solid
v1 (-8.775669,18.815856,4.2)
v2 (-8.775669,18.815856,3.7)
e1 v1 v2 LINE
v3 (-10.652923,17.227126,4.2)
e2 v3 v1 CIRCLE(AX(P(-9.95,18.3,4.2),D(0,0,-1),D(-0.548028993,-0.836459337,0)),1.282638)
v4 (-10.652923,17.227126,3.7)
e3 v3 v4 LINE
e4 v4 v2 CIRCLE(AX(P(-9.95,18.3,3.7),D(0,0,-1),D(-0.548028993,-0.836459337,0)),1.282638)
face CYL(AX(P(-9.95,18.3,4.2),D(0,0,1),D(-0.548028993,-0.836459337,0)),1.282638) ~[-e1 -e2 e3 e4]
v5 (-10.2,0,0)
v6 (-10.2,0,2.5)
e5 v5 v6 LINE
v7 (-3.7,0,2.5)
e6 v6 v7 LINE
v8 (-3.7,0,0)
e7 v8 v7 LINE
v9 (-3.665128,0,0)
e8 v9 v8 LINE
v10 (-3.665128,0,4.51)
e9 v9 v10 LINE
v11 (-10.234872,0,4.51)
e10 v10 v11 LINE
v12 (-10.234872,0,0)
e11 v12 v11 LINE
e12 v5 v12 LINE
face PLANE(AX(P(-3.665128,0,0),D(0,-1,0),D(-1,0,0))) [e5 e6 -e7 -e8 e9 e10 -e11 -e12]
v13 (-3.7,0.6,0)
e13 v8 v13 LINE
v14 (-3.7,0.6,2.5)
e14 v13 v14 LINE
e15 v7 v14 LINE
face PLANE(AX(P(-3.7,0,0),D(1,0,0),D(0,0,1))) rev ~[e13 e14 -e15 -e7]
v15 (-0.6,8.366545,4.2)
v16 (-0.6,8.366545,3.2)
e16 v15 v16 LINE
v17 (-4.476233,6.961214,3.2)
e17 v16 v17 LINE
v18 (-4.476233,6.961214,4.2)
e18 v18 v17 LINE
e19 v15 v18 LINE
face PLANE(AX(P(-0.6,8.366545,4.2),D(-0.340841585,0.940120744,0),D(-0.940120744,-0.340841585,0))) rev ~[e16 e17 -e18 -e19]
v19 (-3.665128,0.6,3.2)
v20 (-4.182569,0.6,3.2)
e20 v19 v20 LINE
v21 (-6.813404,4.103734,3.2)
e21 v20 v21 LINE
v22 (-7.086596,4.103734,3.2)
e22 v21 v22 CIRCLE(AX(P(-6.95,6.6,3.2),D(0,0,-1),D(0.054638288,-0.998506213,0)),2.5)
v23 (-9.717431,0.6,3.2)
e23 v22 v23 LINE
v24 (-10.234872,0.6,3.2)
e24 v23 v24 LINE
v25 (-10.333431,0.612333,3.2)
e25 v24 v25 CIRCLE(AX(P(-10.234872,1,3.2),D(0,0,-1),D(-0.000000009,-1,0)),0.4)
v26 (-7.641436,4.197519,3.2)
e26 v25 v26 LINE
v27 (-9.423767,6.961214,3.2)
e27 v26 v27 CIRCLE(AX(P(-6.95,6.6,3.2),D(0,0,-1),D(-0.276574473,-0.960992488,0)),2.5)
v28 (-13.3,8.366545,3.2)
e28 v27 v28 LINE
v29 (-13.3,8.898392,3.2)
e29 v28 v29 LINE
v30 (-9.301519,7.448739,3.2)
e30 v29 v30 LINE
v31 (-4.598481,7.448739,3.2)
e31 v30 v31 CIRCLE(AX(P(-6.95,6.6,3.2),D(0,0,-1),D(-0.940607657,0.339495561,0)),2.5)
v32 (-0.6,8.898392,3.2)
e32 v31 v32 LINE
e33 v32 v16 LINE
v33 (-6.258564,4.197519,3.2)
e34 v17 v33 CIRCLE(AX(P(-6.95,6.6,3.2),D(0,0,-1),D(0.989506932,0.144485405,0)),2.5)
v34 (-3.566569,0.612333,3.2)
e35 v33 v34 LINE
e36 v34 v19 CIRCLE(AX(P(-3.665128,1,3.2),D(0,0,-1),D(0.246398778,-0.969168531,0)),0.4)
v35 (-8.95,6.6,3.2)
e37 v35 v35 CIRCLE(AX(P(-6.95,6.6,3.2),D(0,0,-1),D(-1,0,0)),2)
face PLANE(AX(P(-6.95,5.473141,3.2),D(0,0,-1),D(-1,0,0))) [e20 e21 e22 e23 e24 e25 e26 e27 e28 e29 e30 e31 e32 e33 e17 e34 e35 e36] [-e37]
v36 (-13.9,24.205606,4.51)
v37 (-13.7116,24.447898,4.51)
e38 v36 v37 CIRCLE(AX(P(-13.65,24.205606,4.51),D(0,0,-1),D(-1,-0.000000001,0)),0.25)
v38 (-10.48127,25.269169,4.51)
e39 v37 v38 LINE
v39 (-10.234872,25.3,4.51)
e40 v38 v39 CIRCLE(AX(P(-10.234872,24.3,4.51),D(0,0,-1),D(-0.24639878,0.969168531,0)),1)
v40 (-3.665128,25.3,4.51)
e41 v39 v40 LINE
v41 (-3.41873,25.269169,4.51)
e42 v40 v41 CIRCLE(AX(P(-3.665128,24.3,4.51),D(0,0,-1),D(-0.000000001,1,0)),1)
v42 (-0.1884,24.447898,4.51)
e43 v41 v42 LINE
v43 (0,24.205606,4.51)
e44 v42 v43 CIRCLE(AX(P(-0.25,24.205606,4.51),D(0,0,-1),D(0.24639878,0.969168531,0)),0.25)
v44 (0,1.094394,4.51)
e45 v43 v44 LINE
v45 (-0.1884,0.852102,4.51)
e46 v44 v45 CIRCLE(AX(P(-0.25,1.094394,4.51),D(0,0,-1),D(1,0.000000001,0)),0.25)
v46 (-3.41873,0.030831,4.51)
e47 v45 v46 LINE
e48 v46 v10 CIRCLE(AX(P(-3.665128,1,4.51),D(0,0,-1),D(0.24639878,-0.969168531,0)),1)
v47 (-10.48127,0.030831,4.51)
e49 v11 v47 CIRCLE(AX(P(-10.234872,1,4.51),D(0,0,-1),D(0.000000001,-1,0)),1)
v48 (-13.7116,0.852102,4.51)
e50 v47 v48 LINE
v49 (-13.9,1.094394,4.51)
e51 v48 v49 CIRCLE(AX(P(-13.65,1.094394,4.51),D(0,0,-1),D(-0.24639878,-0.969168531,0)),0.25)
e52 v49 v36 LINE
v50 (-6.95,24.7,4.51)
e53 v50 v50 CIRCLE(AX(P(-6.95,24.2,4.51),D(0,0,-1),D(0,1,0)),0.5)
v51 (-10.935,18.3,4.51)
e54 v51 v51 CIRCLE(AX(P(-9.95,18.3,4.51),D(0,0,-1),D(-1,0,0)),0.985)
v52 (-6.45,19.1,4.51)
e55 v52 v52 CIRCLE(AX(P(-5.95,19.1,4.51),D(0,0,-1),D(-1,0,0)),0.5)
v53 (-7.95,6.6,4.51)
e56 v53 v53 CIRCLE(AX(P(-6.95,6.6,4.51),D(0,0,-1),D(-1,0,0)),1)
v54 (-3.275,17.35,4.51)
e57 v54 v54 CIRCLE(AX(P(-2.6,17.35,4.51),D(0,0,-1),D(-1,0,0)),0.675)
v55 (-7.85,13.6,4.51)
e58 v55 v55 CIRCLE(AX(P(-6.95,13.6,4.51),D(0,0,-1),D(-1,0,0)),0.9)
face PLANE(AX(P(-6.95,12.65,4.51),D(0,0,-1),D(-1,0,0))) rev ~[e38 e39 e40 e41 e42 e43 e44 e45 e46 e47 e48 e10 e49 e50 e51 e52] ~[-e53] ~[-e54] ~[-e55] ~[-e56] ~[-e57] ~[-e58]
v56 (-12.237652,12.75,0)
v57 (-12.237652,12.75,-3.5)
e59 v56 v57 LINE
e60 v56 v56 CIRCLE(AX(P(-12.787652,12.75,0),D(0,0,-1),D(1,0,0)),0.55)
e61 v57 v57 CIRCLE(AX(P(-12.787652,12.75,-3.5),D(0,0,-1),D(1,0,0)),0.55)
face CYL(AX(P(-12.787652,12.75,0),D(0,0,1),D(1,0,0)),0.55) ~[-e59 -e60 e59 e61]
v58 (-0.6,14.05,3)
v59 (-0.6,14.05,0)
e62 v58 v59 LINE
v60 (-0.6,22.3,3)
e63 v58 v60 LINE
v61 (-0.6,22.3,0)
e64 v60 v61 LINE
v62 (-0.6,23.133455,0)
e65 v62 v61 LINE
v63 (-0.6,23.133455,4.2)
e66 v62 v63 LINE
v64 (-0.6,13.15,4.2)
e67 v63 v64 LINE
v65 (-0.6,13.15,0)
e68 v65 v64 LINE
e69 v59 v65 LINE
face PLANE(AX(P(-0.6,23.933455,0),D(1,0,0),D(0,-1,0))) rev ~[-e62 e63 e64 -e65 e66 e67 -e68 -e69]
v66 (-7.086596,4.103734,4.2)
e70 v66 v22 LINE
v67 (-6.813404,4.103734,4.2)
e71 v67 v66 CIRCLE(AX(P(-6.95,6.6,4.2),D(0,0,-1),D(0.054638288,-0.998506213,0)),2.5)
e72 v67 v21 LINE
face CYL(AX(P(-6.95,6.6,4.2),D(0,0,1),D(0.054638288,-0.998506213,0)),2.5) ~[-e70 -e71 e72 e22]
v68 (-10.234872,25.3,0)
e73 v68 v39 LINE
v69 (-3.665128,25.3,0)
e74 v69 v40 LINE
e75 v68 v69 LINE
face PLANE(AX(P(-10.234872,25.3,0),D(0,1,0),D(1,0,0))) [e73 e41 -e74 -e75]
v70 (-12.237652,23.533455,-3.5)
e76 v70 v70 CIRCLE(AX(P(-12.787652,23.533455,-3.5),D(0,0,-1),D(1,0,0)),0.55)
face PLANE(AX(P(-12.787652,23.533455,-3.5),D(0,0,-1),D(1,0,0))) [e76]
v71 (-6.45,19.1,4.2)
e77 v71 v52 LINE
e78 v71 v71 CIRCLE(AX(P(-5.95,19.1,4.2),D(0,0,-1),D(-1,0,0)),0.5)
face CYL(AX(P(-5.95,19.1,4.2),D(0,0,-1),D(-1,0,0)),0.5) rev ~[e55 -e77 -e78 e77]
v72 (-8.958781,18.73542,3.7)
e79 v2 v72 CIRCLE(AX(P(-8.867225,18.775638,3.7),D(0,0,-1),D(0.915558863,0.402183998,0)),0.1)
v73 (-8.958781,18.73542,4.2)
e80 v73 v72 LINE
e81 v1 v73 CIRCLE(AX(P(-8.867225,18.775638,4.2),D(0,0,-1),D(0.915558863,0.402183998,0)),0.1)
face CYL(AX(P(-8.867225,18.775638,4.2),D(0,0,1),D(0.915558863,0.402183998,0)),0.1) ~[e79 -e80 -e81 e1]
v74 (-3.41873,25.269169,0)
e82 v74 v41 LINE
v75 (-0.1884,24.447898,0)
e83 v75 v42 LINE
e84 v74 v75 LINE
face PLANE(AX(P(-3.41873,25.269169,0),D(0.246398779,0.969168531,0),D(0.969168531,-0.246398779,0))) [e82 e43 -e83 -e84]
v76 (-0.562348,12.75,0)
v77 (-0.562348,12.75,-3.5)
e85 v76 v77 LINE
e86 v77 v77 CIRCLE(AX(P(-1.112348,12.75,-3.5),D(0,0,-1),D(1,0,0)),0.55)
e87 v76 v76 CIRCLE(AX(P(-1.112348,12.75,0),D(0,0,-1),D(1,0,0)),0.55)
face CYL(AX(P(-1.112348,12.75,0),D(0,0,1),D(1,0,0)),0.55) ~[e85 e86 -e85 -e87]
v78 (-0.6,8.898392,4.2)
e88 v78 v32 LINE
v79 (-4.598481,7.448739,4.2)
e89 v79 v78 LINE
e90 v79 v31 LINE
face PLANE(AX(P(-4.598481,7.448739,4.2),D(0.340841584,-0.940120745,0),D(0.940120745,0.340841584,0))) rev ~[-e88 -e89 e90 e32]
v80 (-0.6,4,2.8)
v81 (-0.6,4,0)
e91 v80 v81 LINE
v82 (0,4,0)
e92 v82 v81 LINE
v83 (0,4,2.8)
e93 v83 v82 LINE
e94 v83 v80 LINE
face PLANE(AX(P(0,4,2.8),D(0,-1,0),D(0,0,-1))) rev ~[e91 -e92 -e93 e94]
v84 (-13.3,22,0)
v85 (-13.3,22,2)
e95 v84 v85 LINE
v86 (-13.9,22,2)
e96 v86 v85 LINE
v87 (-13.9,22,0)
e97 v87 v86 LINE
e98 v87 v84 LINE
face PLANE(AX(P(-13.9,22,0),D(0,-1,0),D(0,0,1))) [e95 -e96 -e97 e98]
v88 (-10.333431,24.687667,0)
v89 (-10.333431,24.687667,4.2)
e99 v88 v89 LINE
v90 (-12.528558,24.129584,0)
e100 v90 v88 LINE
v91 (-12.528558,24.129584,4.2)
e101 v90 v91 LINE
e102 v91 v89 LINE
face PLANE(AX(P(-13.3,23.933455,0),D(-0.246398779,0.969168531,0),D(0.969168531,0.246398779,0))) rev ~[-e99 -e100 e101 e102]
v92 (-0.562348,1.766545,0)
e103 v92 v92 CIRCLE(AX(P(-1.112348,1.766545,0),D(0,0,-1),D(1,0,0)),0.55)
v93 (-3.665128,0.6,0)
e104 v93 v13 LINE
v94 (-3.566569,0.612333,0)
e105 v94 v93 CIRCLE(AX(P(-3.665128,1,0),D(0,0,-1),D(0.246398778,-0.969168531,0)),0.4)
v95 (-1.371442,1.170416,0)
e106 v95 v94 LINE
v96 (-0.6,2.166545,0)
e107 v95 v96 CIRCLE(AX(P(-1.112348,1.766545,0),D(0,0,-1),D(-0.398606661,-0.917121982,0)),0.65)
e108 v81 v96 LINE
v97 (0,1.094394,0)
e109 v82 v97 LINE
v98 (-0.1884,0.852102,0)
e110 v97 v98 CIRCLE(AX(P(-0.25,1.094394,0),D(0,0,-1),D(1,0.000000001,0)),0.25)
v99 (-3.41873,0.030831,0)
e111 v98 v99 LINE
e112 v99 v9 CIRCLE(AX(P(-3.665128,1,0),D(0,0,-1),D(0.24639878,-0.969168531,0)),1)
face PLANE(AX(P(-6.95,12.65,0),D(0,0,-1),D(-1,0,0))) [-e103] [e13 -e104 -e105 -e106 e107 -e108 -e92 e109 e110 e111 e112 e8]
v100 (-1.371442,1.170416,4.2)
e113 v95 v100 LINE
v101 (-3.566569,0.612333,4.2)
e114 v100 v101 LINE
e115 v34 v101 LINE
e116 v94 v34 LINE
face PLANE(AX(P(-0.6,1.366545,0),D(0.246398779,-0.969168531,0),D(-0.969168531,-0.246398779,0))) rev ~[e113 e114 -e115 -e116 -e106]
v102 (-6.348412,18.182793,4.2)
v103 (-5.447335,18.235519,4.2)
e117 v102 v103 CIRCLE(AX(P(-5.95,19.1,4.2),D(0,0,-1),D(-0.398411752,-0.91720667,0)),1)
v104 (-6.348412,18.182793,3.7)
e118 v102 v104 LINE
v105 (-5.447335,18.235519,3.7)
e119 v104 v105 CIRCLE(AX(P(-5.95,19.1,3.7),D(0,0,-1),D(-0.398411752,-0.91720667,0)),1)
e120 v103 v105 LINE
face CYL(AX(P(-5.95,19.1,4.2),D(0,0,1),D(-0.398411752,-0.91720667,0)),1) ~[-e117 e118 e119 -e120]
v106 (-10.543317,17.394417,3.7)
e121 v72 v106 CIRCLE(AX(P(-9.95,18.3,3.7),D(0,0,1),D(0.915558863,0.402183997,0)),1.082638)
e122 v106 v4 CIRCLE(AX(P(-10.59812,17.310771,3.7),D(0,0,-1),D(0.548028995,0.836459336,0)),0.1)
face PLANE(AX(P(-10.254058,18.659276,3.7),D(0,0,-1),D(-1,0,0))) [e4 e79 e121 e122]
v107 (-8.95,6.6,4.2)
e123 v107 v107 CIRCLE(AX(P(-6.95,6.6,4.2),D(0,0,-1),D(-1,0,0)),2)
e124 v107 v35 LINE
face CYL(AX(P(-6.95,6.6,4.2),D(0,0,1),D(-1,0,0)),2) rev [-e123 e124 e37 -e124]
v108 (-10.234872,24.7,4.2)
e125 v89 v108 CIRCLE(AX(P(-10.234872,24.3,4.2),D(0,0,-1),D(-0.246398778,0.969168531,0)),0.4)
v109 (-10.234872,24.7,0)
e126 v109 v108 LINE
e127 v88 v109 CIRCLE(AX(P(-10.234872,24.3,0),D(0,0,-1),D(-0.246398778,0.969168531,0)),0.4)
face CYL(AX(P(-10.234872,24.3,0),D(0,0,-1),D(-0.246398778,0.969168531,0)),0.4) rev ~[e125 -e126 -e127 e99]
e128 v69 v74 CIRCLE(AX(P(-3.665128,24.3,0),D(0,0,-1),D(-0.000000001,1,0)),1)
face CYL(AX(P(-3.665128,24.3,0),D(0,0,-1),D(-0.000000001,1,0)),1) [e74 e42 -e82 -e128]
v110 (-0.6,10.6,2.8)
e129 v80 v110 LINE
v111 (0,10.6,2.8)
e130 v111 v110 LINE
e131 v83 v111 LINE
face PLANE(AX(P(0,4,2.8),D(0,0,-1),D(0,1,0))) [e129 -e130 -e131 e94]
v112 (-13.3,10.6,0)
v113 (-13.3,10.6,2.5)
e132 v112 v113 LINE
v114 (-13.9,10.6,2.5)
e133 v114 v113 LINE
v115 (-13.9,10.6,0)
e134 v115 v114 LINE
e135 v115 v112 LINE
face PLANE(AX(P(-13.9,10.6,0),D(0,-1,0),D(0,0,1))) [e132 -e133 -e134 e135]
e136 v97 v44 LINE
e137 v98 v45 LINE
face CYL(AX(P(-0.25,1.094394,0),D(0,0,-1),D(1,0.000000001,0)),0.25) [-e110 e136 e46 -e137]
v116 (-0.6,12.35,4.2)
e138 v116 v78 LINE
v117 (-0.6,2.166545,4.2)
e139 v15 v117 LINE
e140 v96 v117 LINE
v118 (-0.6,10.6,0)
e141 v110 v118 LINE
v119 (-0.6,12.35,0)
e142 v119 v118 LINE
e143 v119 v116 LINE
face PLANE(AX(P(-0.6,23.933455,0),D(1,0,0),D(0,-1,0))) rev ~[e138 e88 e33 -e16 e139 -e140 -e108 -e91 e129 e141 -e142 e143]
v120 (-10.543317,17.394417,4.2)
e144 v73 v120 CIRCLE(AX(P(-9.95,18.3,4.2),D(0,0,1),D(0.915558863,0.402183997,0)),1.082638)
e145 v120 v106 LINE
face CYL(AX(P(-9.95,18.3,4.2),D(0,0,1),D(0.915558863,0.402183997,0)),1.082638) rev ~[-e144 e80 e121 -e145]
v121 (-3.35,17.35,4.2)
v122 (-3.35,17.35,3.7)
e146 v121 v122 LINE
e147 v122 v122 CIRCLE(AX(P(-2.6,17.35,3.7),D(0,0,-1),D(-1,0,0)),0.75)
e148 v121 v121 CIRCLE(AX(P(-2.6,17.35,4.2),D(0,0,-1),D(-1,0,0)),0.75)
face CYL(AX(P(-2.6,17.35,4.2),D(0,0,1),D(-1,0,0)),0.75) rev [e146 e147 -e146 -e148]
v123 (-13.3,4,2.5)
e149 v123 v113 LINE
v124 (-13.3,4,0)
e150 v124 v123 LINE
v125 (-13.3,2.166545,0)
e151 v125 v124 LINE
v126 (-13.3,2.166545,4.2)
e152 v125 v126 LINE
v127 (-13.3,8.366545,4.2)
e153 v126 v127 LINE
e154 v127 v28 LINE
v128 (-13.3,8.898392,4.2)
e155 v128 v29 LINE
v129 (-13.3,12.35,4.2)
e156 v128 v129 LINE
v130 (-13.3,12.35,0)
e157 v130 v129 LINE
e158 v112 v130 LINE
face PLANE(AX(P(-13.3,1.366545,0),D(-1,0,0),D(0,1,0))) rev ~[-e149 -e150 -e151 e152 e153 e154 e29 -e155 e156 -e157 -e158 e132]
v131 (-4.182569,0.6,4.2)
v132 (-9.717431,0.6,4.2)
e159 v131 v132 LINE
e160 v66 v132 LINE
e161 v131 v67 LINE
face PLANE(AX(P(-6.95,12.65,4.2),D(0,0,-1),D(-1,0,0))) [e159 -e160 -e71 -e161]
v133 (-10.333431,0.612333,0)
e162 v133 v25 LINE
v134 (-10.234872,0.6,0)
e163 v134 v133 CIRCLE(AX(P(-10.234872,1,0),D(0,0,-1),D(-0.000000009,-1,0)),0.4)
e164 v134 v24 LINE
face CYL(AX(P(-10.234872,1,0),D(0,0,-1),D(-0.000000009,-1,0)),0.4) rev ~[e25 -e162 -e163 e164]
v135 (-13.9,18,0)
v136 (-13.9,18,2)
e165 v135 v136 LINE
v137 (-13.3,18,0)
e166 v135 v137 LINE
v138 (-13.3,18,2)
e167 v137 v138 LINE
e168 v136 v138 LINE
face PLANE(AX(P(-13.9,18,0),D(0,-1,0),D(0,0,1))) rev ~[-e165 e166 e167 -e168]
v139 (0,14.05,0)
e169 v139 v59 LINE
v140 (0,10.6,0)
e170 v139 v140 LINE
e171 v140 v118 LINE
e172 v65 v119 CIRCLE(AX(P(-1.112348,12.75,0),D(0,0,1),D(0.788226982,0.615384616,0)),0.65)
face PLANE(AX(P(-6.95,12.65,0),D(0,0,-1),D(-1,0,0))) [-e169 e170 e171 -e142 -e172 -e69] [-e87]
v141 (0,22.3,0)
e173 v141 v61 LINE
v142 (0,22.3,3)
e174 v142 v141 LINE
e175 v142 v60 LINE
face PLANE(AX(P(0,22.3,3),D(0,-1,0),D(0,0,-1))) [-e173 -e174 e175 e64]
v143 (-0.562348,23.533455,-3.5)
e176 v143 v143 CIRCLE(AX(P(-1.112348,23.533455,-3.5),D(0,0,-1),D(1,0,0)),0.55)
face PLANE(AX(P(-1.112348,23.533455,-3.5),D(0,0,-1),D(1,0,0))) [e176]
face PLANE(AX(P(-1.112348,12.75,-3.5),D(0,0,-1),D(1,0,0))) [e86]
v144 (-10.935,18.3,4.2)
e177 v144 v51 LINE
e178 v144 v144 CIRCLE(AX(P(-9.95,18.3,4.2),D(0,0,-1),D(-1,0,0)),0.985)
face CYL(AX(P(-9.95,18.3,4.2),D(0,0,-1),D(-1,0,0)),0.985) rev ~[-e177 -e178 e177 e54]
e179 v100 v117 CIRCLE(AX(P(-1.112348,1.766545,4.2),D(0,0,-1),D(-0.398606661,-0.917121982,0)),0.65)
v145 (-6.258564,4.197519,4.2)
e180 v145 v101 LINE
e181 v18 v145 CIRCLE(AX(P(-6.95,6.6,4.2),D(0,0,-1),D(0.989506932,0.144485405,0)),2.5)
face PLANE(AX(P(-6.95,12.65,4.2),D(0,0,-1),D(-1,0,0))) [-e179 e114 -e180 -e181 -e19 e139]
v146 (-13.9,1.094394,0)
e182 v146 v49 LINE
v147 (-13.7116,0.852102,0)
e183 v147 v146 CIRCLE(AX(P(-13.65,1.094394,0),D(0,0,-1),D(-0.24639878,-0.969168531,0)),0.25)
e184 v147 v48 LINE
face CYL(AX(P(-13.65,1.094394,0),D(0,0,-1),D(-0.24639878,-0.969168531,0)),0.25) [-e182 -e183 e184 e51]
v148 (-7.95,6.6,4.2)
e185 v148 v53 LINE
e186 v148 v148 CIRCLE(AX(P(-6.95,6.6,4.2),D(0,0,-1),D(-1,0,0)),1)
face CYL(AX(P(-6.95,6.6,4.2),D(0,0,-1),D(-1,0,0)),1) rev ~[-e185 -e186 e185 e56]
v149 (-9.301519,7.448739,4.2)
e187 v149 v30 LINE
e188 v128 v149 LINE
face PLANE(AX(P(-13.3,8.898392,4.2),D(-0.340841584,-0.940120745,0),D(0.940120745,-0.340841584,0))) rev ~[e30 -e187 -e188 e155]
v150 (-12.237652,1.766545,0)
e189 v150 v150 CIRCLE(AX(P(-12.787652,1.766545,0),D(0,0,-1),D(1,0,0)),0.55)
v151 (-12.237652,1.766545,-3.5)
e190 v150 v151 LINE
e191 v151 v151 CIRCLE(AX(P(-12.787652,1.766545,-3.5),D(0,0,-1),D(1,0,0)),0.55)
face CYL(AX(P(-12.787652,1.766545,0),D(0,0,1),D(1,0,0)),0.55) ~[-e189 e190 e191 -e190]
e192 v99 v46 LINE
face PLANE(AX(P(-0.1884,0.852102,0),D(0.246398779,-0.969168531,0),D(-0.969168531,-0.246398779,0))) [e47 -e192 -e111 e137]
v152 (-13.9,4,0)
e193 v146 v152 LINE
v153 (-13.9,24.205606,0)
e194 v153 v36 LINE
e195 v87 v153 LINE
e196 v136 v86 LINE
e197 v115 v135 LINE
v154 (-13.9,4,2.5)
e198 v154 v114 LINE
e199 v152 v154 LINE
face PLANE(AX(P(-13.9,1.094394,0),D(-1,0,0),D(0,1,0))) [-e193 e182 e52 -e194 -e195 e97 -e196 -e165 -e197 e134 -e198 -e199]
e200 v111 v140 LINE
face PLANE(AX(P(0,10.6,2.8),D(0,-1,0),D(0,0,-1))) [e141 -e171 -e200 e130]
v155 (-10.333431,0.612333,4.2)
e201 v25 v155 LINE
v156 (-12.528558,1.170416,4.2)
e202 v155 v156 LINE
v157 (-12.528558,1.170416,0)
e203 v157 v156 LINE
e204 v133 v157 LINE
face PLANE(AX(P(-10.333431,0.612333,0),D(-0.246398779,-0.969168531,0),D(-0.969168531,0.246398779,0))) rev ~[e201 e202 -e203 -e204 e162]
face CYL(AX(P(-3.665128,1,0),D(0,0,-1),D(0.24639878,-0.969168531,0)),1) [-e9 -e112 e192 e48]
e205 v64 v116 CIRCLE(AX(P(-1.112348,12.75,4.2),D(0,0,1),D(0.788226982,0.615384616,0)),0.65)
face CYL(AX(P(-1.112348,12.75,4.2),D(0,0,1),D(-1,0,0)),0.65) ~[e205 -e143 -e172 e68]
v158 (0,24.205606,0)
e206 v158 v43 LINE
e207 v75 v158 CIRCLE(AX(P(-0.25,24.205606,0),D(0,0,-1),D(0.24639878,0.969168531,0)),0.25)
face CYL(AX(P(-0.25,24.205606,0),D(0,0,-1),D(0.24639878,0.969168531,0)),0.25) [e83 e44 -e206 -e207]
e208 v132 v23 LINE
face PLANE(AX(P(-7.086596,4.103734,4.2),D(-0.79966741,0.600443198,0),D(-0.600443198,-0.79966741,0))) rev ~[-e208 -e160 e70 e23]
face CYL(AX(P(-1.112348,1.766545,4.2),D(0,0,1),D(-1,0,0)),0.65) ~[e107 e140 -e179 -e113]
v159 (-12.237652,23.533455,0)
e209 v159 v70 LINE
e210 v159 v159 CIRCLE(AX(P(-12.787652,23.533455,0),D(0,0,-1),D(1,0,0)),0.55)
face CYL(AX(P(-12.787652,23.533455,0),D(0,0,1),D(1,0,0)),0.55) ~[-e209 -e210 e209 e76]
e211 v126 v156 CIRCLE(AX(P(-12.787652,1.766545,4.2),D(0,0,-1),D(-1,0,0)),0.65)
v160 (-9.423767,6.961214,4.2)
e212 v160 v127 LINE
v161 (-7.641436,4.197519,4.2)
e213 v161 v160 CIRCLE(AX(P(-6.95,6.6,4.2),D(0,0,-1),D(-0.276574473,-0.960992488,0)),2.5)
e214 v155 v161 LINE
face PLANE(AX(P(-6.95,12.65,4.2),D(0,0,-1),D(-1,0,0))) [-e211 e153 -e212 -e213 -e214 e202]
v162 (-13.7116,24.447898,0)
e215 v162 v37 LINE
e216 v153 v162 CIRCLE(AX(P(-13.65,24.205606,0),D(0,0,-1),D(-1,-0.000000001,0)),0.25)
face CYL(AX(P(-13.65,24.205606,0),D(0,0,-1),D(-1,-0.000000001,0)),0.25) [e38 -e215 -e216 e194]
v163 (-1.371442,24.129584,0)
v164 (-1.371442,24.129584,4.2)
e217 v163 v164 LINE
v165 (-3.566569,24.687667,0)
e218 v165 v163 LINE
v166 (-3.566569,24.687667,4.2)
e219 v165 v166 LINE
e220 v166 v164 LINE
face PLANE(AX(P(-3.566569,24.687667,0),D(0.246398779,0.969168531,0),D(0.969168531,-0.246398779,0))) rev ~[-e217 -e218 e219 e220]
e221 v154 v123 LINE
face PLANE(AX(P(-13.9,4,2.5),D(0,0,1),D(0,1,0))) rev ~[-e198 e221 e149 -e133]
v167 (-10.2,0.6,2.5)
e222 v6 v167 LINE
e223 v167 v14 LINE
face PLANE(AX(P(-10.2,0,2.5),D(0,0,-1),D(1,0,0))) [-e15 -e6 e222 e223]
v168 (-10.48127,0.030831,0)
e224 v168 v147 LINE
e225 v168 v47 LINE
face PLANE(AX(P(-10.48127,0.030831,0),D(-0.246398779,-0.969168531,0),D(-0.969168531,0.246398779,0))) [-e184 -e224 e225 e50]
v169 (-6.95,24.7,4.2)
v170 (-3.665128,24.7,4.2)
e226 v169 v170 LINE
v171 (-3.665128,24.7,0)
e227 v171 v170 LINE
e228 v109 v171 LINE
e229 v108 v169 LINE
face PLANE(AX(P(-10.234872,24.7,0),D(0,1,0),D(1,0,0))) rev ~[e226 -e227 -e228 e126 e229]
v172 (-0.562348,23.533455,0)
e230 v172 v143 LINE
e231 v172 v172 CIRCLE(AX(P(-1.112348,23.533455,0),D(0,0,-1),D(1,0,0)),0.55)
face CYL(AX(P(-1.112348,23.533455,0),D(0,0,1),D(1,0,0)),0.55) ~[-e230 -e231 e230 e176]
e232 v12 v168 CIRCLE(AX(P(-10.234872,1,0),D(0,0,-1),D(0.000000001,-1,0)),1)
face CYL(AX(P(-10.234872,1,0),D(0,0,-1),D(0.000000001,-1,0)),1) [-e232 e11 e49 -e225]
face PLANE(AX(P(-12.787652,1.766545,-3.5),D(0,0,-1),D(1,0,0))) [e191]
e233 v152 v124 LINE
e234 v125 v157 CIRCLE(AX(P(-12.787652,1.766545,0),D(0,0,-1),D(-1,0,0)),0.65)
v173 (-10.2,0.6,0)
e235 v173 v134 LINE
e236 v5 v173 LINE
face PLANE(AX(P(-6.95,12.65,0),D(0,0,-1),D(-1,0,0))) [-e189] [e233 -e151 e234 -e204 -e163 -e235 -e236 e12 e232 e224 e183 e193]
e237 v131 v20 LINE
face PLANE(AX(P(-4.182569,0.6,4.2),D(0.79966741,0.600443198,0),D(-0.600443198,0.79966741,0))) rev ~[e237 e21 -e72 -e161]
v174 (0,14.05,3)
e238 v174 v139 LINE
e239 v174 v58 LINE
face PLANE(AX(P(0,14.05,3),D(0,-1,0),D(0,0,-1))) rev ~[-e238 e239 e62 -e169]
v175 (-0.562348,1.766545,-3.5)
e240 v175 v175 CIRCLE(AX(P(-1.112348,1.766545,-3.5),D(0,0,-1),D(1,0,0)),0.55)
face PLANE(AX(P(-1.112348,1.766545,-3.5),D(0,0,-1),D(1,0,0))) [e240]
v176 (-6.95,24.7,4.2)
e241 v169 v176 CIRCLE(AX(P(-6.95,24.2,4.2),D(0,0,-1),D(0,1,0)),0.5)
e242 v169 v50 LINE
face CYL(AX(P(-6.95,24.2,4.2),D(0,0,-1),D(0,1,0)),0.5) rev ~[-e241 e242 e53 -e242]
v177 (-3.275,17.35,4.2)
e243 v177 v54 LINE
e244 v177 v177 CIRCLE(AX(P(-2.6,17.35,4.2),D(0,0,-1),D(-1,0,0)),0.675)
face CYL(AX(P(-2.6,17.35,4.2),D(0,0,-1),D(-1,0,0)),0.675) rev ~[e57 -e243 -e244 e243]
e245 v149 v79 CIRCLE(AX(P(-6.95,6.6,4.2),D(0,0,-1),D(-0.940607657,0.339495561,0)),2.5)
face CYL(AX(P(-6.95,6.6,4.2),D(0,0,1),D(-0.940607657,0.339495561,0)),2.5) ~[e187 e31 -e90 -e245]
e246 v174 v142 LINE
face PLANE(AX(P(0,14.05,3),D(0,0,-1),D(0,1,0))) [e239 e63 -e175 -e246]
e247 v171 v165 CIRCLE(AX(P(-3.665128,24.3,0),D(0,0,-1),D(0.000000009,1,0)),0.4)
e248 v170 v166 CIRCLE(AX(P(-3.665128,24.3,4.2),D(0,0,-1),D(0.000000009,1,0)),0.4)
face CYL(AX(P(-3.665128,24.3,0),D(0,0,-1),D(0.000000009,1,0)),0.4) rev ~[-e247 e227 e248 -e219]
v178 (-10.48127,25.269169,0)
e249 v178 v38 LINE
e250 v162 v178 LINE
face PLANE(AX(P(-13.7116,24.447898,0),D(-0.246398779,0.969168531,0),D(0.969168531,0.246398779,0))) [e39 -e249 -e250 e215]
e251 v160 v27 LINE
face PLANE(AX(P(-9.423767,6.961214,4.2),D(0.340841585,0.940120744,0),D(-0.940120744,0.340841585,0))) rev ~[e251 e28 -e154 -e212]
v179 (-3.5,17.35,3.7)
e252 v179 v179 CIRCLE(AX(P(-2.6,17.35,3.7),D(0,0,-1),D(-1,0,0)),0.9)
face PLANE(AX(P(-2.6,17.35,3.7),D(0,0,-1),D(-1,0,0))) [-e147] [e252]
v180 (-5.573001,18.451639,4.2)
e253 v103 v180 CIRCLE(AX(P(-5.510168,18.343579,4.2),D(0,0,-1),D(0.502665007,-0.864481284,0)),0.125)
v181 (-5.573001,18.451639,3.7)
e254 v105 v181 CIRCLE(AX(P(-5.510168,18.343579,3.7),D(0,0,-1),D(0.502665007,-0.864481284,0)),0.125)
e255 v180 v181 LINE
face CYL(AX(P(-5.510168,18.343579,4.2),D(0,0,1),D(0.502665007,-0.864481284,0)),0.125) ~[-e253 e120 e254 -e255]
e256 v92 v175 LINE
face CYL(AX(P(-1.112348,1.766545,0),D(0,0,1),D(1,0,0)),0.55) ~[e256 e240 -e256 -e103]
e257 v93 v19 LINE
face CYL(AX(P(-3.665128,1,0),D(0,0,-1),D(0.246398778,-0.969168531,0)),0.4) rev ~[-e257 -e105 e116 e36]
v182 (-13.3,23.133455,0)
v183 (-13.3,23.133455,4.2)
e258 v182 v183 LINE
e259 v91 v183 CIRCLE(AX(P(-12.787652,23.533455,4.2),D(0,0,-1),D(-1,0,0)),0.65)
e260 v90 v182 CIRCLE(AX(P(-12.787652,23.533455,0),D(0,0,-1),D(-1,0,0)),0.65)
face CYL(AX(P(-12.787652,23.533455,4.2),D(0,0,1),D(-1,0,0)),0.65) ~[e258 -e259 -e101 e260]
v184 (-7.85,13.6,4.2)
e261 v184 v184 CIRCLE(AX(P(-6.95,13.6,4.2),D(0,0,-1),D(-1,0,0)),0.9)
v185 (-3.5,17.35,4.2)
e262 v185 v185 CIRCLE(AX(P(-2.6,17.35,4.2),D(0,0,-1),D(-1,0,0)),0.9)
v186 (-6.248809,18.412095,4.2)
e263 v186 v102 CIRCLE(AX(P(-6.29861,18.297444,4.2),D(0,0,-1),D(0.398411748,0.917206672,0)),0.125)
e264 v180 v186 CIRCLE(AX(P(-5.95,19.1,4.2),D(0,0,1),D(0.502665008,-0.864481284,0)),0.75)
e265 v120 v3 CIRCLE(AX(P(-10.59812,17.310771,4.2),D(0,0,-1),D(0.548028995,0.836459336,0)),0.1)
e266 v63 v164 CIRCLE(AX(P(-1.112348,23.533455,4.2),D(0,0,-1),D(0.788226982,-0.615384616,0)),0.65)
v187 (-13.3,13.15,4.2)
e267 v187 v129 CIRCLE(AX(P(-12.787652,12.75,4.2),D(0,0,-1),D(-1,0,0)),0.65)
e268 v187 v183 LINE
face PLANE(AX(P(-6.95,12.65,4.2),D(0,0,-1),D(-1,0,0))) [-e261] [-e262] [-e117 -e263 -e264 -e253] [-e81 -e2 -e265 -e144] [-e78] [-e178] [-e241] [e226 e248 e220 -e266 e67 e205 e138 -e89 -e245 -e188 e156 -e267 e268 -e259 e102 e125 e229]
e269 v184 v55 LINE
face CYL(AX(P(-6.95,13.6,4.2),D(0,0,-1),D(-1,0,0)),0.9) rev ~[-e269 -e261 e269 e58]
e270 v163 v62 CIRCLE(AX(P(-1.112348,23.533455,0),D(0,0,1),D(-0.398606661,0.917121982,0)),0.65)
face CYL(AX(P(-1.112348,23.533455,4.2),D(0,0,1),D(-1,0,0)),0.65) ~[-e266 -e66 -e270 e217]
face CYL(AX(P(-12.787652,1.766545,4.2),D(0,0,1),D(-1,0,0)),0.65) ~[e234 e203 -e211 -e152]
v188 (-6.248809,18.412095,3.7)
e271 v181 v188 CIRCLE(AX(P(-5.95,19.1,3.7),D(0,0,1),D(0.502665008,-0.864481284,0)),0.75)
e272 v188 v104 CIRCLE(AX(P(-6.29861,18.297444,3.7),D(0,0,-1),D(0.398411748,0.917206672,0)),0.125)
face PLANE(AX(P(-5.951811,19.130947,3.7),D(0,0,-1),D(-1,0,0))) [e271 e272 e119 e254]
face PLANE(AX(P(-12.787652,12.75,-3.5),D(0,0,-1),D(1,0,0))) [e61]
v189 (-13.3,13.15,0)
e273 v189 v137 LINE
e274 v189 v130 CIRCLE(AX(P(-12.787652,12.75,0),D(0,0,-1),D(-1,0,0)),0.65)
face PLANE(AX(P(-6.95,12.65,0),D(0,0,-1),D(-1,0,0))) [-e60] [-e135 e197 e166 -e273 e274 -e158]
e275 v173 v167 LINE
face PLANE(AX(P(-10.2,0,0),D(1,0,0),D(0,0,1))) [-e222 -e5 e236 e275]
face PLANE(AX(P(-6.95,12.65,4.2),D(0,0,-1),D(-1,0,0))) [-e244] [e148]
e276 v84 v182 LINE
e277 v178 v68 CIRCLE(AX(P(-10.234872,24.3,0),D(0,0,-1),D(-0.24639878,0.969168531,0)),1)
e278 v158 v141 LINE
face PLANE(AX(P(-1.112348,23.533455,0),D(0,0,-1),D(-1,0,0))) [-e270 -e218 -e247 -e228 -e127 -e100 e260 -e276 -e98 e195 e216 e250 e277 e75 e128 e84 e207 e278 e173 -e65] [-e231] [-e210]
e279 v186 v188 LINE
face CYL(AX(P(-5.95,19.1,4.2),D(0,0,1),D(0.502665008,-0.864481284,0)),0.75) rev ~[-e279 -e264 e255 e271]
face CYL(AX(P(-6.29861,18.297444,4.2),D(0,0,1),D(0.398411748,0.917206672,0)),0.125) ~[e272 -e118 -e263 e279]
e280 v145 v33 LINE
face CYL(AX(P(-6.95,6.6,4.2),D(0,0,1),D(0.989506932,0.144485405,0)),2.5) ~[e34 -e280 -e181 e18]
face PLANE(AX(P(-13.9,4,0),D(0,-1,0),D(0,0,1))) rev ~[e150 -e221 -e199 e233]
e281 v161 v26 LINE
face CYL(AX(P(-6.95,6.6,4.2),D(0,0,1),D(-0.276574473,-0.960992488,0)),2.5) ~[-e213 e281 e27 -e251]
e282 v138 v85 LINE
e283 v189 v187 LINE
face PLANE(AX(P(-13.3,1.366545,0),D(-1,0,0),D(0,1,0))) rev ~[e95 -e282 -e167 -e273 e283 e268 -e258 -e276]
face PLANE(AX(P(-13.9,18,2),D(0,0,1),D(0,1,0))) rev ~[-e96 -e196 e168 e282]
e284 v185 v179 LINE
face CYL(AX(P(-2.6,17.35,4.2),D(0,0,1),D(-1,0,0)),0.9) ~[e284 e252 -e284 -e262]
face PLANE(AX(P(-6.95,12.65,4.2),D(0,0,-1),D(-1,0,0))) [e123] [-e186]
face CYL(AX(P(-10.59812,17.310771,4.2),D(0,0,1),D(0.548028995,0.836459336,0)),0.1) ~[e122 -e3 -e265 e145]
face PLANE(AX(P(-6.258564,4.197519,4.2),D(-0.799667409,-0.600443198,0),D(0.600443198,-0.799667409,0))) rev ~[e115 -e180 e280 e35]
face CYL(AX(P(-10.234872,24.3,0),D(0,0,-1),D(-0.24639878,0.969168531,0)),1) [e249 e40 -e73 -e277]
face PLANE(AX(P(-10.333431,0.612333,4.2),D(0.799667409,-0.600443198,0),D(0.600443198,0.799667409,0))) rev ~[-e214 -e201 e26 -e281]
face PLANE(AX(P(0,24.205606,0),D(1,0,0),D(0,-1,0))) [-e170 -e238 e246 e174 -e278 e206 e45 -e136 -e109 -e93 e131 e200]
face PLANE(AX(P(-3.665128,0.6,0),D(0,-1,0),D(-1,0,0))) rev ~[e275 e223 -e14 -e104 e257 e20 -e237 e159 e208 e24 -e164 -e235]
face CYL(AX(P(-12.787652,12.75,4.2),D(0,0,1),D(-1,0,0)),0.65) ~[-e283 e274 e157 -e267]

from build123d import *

# Parameters (mm, degrees)
BOSS_EXTRUDE1_DEPTH = 4.51
CUT_EXTRUDE1_DEPTH  = 4.2
SKETCH5_R           = 1
CUT_EXTRUDE2_DEPTH  = 4.1
SKETCH6_R           = 2
BOSS_EXTRUDE2_DEPTH = 1
SKETCH7_R           = 0.9
CUT_EXTRUDE3_DEPTH  = 1
SKETCH8_R           = 0.5
CUT_EXTRUDE4_DEPTH  = 1
SKETCH9_R           = 0.5
SKETCH9_R_2         = 0.985
SKETCH9_R_3         = 0.675
CUT_EXTRUDE5_DEPTH  = 1
SKETCH10_R          = 0.9
SKETCH10_R_2        = 0.75
BOSS_EXTRUDE3_DEPTH = 0.5
SKETCH11_W          = 3
SKETCH11_H          = 8.25
SKETCH11_W_2        = 2.8
SKETCH11_H_2        = 6.6
CUT_EXTRUDE6_DEPTH  = 0.6
SKETCH12_W          = 6.5
SKETCH12_H          = 2.5
CUT_EXTRUDE7_DEPTH  = 0.6
SKETCH15_W          = 2.5
SKETCH15_H          = 6.6
SKETCH15_W_2        = 2
SKETCH15_H_2        = 4
CUT_EXTRUDE8_DEPTH  = 0.6
SKETCH16_R          = 0.65
BOSS_EXTRUDE4_DEPTH = 4.2
SKETCH17_R          = 0.55
BOSS_EXTRUDE5_DEPTH = 3.5


with BuildPart() as part:
    # Sketch2 → Boss-Extrude1 (new body)
    with BuildSketch(Plane.XY):
        with BuildLine():
            ThreePointArc((-13.711599695, 0.852101617), (-13.847357447, 0.940933533), (-13.9, 1.09439375))
            Line((-13.9, 1.09439375), (-13.9, 24.20560625))
            ThreePointArc((-13.9, 24.20560625), (-13.847357447, 24.359066467), (-13.711599695, 24.447898383))
            Line((-13.711599695, 24.447898383), (-10.481270444, 25.269168531))
            ThreePointArc((-10.481270444, 25.269168531), (-10.359031781, 25.292262196), (-10.234871665, 25.3))
            Line((-10.234871665, 25.3), (-3.665128335, 25.3))
            ThreePointArc((-3.665128335, 25.3), (-3.540968219, 25.292262196), (-3.418729556, 25.269168531))
            Line((-3.418729556, 25.269168531), (-0.188400305, 24.447898383))
            ThreePointArc((-0.188400305, 24.447898383), (-0.052642553, 24.359066467), (0, 24.20560625))
            Line((0, 24.20560625), (0, 1.09439375))
            ThreePointArc((0, 1.09439375), (-0.052642553, 0.940933533), (-0.188400305, 0.852101617))
            Line((-0.188400305, 0.852101617), (-3.418729556, 0.030831469))
            ThreePointArc((-3.418729556, 0.030831469), (-3.540968219, 0.007737804), (-3.665128335, 0))
            Line((-3.665128335, 0), (-10.234871665, 0))
            ThreePointArc((-10.234871665, 0), (-10.359031781, 0.007737804), (-10.481270444, 0.030831469))
            Line((-10.481270444, 0.030831469), (-13.711599695, 0.852101617))
        make_face()
    extrude(amount=BOSS_EXTRUDE1_DEPTH)

    # Sketch4 → Cut-Extrude1 (cut)
    with BuildSketch(Plane(origin=(0, 0, 0), x_dir=(-1, 0, 0), z_dir=(0, 0, -1))):
        with BuildLine():
            Line((13.3, 1.366545), (13.3, 23.933455))
            Line((13.3, 23.933455), (10.333431177, 24.687667412))
            ThreePointArc((10.333431177, 24.687667412), (10.284535712, 24.696904878), (10.234871665, 24.7))
            Line((10.234871665, 24.7), (3.665128335, 24.7))
            ThreePointArc((3.665128335, 24.7), (3.615464288, 24.696904878), (3.566568823, 24.687667412))
            Line((3.566568823, 24.687667412), (0.6, 23.933455))
            Line((0.6, 23.933455), (0.6, 1.366545))
            Line((0.6, 1.366545), (3.566568823, 0.612332588))
            ThreePointArc((3.566568823, 0.612332588), (3.615464288, 0.603095122), (3.665128335, 0.6))
            Line((3.665128335, 0.6), (10.234871665, 0.6))
            ThreePointArc((10.234871665, 0.6), (10.284535712, 0.603095122), (10.333431177, 0.612332588))
            Line((10.333431177, 0.612332588), (13.3, 1.366545))
        make_face()
    extrude(amount=-CUT_EXTRUDE1_DEPTH, mode=Mode.SUBTRACT)

    # Sketch5 → Cut-Extrude2 (cut)
    with BuildSketch(Plane(origin=(0, 0, 4.2), x_dir=(-1, 0, 0), z_dir=(0, 0, -1))):
        with Locations((6.95, 6.6)):
            Circle(SKETCH5_R)
    extrude(amount=-CUT_EXTRUDE2_DEPTH, mode=Mode.SUBTRACT)

    # Sketch6 → Boss-Extrude2 (add)
    with BuildSketch(Plane(origin=(0, 0, 4.2), x_dir=(-1, 0, 0), z_dir=(0, 0, -1))):
        with BuildLine():
            Line((10.333431177, 0.612332588), (7.641436182, 4.197518781))
            ThreePointArc((7.641436182, 4.197518781), (9.050983212, 5.245057365), (9.423767329, 6.961213511))
            Line((9.423767329, 6.961213511), (13.3, 8.366545))
            Line((13.3, 8.366545), (13.3, 8.898391577))
            Line((13.3, 8.898391577), (9.301519142, 7.448738903))
            ThreePointArc((9.301519142, 7.448738903), (6.95, 9.1), (4.598480858, 7.448738903))
            Line((4.598480858, 7.448738903), (0.6, 8.898391577))
            Line((0.6, 8.898391577), (0.6, 8.366545))
            Line((0.6, 8.366545), (4.476232671, 6.961213511))
            ThreePointArc((4.476232671, 6.961213511), (4.849016788, 5.245057365), (6.258563818, 4.197518781))
            Line((6.258563818, 4.197518781), (3.566568823, 0.612332588))
            ThreePointArc((3.566568823, 0.612332588), (3.615464288, 0.603095122), (3.665128335, 0.6))
            Line((3.665128335, 0.6), (4.182568645, 0.6))
            Line((4.182568645, 0.6), (6.813404294, 4.103734467))
            ThreePointArc((6.813404294, 4.103734467), (6.95, 4.1), (7.086595706, 4.103734467))
            Line((7.086595706, 4.103734467), (9.717431355, 0.6))
            Line((9.717431355, 0.6), (10.234871665, 0.6))
            ThreePointArc((10.234871665, 0.6), (10.284535712, 0.603095122), (10.333431177, 0.612332588))
        make_face()
        with Locations((6.95, 6.6)):
            Circle(SKETCH6_R, mode=Mode.SUBTRACT)
    extrude(amount=BOSS_EXTRUDE2_DEPTH)

    # Sketch7 → Cut-Extrude3 (cut)
    with BuildSketch(Plane(origin=(0, 0, 4.2), x_dir=(-1, 0, 0), z_dir=(0, 0, -1))):
        with Locations((6.95, 13.6)):
            Circle(SKETCH7_R)
    extrude(amount=-CUT_EXTRUDE3_DEPTH, mode=Mode.SUBTRACT)

    # Sketch8 → Cut-Extrude4 (cut)
    with BuildSketch(Plane(origin=(0, 0, 4.2), x_dir=(-1, 0, 0), z_dir=(0, 0, -1))):
        with Locations(Location((6.95, 24.2, 0), (0, 0, 90))):
            Circle(SKETCH8_R)
    extrude(amount=-CUT_EXTRUDE4_DEPTH, mode=Mode.SUBTRACT)

    # Sketch9 → Cut-Extrude5 (cut)
    with BuildSketch(Plane(origin=(0, 0, 4.2), x_dir=(-1, 0, 0), z_dir=(0, 0, -1))):
        with Locations((5.95, 19.1)):
            Circle(SKETCH9_R)
        with Locations((9.95, 18.3)):
            Circle(SKETCH9_R_2)
        with Locations((2.6, 17.35)):
            Circle(SKETCH9_R_3)
    extrude(amount=-CUT_EXTRUDE5_DEPTH, mode=Mode.SUBTRACT)

    # Sketch10 → Boss-Extrude3 (add)
    with BuildSketch(Plane(origin=(0, 0, 4.2), x_dir=(-1, 0, 0), z_dir=(0, 0, -1))):
        with Locations((2.6, 17.35)):
            Circle(SKETCH10_R)
        with Locations((2.6, 17.35)):
            Circle(SKETCH10_R_2, mode=Mode.SUBTRACT)
        with BuildLine():
            ThreePointArc((6.348411752, 18.18279333), (6.008413842, 20.098292454), (5.447334993, 18.235518716))
            ThreePointArc((5.447334993, 18.235518716), (5.618228279, 18.28074575), (5.573001245, 18.451639037))
            ThreePointArc((5.573001245, 18.451639037), (5.993810381, 19.84871934), (6.248808814, 18.412094997))
            ThreePointArc((6.248808814, 18.412094997), (6.183959449, 18.247642694), (6.348411752, 18.18279333))
        make_face()
        with BuildLine():
            ThreePointArc((10.652922784, 17.227125511), (10.778596901, 19.279074709), (8.775669457, 18.815856457))
            ThreePointArc((8.775669457, 18.815856457), (8.827006943, 18.684082171), (8.95878123, 18.735419658))
            ThreePointArc((8.95878123, 18.735419658), (10.649394907, 19.126408914), (10.543316985, 17.394417378))
            ThreePointArc((10.543316985, 17.394417378), (10.514473951, 17.255968545), (10.652922784, 17.227125511))
        make_face()
    extrude(amount=BOSS_EXTRUDE3_DEPTH)

    # Sketch11 → Cut-Extrude6 (cut)
    with BuildSketch(Plane(origin=(0, 0, 0), x_dir=(0, 0, -1), z_dir=(1, 0, 0))):
        with Locations((-1.5, 18.175)):
            Rectangle(SKETCH11_W, SKETCH11_H)
        with Locations((-1.4, 7.3)):
            Rectangle(SKETCH11_W_2, SKETCH11_H_2)
    extrude(amount=-CUT_EXTRUDE6_DEPTH, mode=Mode.SUBTRACT)

    # Sketch12 → Cut-Extrude7 (cut)
    with BuildSketch(Plane.XZ):
        with Locations((-6.95, 1.25)):
            Rectangle(SKETCH12_W, SKETCH12_H)
    extrude(amount=-CUT_EXTRUDE7_DEPTH, mode=Mode.SUBTRACT)

    # Sketch15 → Cut-Extrude8 (cut)
    with BuildSketch(Plane.ZY.offset(13.9)):
        with Locations((1.25, 7.3)):
            Rectangle(SKETCH15_W, SKETCH15_H)
        with Locations((1, 20)):
            Rectangle(SKETCH15_W_2, SKETCH15_H_2)
    extrude(amount=-CUT_EXTRUDE8_DEPTH, mode=Mode.SUBTRACT)

    # Sketch16 → Boss-Extrude4 (add)
    with BuildSketch(Plane(origin=(0, 0, 4.2), x_dir=(-1, 0, 0), z_dir=(0, 0, -1))):
        with Locations((1.112347538, 23.533455)):
            Circle(SKETCH16_R)
        with Locations((1.112347538, 12.75)):
            Circle(SKETCH16_R)
        with Locations((1.112347538, 1.766545)):
            Circle(SKETCH16_R)
        with Locations((12.787652462, 1.766545)):
            Circle(SKETCH16_R)
        with Locations((12.787652462, 12.75)):
            Circle(SKETCH16_R)
        with Locations((12.787652462, 23.533455)):
            Circle(SKETCH16_R)
    extrude(amount=BOSS_EXTRUDE4_DEPTH)

    # Sketch17 → Boss-Extrude5 (add)
    with BuildSketch(Plane(origin=(0, 0, 0), x_dir=(-1, 0, 0), z_dir=(0, 0, -1))):
        with Locations(Location((1.112347538, 12.75, 0), (0, 0, 180))):
            Circle(SKETCH17_R)
        with Locations(Location((1.112347538, 23.533455, 0), (0, 0, 180))):
            Circle(SKETCH17_R)
        with Locations(Location((1.112347538, 1.766545, 0), (0, 0, 180))):
            Circle(SKETCH17_R)
        with Locations(Location((12.787652462, 1.766545, 0), (0, 0, 180))):
            Circle(SKETCH17_R)
        with Locations(Location((12.787652462, 12.75, 0), (0, 0, 180))):
            Circle(SKETCH17_R)
        with Locations(Location((12.787652462, 23.533455, 0), (0, 0, 180))):
            Circle(SKETCH17_R)
    extrude(amount=BOSS_EXTRUDE5_DEPTH)


solid = part.part
